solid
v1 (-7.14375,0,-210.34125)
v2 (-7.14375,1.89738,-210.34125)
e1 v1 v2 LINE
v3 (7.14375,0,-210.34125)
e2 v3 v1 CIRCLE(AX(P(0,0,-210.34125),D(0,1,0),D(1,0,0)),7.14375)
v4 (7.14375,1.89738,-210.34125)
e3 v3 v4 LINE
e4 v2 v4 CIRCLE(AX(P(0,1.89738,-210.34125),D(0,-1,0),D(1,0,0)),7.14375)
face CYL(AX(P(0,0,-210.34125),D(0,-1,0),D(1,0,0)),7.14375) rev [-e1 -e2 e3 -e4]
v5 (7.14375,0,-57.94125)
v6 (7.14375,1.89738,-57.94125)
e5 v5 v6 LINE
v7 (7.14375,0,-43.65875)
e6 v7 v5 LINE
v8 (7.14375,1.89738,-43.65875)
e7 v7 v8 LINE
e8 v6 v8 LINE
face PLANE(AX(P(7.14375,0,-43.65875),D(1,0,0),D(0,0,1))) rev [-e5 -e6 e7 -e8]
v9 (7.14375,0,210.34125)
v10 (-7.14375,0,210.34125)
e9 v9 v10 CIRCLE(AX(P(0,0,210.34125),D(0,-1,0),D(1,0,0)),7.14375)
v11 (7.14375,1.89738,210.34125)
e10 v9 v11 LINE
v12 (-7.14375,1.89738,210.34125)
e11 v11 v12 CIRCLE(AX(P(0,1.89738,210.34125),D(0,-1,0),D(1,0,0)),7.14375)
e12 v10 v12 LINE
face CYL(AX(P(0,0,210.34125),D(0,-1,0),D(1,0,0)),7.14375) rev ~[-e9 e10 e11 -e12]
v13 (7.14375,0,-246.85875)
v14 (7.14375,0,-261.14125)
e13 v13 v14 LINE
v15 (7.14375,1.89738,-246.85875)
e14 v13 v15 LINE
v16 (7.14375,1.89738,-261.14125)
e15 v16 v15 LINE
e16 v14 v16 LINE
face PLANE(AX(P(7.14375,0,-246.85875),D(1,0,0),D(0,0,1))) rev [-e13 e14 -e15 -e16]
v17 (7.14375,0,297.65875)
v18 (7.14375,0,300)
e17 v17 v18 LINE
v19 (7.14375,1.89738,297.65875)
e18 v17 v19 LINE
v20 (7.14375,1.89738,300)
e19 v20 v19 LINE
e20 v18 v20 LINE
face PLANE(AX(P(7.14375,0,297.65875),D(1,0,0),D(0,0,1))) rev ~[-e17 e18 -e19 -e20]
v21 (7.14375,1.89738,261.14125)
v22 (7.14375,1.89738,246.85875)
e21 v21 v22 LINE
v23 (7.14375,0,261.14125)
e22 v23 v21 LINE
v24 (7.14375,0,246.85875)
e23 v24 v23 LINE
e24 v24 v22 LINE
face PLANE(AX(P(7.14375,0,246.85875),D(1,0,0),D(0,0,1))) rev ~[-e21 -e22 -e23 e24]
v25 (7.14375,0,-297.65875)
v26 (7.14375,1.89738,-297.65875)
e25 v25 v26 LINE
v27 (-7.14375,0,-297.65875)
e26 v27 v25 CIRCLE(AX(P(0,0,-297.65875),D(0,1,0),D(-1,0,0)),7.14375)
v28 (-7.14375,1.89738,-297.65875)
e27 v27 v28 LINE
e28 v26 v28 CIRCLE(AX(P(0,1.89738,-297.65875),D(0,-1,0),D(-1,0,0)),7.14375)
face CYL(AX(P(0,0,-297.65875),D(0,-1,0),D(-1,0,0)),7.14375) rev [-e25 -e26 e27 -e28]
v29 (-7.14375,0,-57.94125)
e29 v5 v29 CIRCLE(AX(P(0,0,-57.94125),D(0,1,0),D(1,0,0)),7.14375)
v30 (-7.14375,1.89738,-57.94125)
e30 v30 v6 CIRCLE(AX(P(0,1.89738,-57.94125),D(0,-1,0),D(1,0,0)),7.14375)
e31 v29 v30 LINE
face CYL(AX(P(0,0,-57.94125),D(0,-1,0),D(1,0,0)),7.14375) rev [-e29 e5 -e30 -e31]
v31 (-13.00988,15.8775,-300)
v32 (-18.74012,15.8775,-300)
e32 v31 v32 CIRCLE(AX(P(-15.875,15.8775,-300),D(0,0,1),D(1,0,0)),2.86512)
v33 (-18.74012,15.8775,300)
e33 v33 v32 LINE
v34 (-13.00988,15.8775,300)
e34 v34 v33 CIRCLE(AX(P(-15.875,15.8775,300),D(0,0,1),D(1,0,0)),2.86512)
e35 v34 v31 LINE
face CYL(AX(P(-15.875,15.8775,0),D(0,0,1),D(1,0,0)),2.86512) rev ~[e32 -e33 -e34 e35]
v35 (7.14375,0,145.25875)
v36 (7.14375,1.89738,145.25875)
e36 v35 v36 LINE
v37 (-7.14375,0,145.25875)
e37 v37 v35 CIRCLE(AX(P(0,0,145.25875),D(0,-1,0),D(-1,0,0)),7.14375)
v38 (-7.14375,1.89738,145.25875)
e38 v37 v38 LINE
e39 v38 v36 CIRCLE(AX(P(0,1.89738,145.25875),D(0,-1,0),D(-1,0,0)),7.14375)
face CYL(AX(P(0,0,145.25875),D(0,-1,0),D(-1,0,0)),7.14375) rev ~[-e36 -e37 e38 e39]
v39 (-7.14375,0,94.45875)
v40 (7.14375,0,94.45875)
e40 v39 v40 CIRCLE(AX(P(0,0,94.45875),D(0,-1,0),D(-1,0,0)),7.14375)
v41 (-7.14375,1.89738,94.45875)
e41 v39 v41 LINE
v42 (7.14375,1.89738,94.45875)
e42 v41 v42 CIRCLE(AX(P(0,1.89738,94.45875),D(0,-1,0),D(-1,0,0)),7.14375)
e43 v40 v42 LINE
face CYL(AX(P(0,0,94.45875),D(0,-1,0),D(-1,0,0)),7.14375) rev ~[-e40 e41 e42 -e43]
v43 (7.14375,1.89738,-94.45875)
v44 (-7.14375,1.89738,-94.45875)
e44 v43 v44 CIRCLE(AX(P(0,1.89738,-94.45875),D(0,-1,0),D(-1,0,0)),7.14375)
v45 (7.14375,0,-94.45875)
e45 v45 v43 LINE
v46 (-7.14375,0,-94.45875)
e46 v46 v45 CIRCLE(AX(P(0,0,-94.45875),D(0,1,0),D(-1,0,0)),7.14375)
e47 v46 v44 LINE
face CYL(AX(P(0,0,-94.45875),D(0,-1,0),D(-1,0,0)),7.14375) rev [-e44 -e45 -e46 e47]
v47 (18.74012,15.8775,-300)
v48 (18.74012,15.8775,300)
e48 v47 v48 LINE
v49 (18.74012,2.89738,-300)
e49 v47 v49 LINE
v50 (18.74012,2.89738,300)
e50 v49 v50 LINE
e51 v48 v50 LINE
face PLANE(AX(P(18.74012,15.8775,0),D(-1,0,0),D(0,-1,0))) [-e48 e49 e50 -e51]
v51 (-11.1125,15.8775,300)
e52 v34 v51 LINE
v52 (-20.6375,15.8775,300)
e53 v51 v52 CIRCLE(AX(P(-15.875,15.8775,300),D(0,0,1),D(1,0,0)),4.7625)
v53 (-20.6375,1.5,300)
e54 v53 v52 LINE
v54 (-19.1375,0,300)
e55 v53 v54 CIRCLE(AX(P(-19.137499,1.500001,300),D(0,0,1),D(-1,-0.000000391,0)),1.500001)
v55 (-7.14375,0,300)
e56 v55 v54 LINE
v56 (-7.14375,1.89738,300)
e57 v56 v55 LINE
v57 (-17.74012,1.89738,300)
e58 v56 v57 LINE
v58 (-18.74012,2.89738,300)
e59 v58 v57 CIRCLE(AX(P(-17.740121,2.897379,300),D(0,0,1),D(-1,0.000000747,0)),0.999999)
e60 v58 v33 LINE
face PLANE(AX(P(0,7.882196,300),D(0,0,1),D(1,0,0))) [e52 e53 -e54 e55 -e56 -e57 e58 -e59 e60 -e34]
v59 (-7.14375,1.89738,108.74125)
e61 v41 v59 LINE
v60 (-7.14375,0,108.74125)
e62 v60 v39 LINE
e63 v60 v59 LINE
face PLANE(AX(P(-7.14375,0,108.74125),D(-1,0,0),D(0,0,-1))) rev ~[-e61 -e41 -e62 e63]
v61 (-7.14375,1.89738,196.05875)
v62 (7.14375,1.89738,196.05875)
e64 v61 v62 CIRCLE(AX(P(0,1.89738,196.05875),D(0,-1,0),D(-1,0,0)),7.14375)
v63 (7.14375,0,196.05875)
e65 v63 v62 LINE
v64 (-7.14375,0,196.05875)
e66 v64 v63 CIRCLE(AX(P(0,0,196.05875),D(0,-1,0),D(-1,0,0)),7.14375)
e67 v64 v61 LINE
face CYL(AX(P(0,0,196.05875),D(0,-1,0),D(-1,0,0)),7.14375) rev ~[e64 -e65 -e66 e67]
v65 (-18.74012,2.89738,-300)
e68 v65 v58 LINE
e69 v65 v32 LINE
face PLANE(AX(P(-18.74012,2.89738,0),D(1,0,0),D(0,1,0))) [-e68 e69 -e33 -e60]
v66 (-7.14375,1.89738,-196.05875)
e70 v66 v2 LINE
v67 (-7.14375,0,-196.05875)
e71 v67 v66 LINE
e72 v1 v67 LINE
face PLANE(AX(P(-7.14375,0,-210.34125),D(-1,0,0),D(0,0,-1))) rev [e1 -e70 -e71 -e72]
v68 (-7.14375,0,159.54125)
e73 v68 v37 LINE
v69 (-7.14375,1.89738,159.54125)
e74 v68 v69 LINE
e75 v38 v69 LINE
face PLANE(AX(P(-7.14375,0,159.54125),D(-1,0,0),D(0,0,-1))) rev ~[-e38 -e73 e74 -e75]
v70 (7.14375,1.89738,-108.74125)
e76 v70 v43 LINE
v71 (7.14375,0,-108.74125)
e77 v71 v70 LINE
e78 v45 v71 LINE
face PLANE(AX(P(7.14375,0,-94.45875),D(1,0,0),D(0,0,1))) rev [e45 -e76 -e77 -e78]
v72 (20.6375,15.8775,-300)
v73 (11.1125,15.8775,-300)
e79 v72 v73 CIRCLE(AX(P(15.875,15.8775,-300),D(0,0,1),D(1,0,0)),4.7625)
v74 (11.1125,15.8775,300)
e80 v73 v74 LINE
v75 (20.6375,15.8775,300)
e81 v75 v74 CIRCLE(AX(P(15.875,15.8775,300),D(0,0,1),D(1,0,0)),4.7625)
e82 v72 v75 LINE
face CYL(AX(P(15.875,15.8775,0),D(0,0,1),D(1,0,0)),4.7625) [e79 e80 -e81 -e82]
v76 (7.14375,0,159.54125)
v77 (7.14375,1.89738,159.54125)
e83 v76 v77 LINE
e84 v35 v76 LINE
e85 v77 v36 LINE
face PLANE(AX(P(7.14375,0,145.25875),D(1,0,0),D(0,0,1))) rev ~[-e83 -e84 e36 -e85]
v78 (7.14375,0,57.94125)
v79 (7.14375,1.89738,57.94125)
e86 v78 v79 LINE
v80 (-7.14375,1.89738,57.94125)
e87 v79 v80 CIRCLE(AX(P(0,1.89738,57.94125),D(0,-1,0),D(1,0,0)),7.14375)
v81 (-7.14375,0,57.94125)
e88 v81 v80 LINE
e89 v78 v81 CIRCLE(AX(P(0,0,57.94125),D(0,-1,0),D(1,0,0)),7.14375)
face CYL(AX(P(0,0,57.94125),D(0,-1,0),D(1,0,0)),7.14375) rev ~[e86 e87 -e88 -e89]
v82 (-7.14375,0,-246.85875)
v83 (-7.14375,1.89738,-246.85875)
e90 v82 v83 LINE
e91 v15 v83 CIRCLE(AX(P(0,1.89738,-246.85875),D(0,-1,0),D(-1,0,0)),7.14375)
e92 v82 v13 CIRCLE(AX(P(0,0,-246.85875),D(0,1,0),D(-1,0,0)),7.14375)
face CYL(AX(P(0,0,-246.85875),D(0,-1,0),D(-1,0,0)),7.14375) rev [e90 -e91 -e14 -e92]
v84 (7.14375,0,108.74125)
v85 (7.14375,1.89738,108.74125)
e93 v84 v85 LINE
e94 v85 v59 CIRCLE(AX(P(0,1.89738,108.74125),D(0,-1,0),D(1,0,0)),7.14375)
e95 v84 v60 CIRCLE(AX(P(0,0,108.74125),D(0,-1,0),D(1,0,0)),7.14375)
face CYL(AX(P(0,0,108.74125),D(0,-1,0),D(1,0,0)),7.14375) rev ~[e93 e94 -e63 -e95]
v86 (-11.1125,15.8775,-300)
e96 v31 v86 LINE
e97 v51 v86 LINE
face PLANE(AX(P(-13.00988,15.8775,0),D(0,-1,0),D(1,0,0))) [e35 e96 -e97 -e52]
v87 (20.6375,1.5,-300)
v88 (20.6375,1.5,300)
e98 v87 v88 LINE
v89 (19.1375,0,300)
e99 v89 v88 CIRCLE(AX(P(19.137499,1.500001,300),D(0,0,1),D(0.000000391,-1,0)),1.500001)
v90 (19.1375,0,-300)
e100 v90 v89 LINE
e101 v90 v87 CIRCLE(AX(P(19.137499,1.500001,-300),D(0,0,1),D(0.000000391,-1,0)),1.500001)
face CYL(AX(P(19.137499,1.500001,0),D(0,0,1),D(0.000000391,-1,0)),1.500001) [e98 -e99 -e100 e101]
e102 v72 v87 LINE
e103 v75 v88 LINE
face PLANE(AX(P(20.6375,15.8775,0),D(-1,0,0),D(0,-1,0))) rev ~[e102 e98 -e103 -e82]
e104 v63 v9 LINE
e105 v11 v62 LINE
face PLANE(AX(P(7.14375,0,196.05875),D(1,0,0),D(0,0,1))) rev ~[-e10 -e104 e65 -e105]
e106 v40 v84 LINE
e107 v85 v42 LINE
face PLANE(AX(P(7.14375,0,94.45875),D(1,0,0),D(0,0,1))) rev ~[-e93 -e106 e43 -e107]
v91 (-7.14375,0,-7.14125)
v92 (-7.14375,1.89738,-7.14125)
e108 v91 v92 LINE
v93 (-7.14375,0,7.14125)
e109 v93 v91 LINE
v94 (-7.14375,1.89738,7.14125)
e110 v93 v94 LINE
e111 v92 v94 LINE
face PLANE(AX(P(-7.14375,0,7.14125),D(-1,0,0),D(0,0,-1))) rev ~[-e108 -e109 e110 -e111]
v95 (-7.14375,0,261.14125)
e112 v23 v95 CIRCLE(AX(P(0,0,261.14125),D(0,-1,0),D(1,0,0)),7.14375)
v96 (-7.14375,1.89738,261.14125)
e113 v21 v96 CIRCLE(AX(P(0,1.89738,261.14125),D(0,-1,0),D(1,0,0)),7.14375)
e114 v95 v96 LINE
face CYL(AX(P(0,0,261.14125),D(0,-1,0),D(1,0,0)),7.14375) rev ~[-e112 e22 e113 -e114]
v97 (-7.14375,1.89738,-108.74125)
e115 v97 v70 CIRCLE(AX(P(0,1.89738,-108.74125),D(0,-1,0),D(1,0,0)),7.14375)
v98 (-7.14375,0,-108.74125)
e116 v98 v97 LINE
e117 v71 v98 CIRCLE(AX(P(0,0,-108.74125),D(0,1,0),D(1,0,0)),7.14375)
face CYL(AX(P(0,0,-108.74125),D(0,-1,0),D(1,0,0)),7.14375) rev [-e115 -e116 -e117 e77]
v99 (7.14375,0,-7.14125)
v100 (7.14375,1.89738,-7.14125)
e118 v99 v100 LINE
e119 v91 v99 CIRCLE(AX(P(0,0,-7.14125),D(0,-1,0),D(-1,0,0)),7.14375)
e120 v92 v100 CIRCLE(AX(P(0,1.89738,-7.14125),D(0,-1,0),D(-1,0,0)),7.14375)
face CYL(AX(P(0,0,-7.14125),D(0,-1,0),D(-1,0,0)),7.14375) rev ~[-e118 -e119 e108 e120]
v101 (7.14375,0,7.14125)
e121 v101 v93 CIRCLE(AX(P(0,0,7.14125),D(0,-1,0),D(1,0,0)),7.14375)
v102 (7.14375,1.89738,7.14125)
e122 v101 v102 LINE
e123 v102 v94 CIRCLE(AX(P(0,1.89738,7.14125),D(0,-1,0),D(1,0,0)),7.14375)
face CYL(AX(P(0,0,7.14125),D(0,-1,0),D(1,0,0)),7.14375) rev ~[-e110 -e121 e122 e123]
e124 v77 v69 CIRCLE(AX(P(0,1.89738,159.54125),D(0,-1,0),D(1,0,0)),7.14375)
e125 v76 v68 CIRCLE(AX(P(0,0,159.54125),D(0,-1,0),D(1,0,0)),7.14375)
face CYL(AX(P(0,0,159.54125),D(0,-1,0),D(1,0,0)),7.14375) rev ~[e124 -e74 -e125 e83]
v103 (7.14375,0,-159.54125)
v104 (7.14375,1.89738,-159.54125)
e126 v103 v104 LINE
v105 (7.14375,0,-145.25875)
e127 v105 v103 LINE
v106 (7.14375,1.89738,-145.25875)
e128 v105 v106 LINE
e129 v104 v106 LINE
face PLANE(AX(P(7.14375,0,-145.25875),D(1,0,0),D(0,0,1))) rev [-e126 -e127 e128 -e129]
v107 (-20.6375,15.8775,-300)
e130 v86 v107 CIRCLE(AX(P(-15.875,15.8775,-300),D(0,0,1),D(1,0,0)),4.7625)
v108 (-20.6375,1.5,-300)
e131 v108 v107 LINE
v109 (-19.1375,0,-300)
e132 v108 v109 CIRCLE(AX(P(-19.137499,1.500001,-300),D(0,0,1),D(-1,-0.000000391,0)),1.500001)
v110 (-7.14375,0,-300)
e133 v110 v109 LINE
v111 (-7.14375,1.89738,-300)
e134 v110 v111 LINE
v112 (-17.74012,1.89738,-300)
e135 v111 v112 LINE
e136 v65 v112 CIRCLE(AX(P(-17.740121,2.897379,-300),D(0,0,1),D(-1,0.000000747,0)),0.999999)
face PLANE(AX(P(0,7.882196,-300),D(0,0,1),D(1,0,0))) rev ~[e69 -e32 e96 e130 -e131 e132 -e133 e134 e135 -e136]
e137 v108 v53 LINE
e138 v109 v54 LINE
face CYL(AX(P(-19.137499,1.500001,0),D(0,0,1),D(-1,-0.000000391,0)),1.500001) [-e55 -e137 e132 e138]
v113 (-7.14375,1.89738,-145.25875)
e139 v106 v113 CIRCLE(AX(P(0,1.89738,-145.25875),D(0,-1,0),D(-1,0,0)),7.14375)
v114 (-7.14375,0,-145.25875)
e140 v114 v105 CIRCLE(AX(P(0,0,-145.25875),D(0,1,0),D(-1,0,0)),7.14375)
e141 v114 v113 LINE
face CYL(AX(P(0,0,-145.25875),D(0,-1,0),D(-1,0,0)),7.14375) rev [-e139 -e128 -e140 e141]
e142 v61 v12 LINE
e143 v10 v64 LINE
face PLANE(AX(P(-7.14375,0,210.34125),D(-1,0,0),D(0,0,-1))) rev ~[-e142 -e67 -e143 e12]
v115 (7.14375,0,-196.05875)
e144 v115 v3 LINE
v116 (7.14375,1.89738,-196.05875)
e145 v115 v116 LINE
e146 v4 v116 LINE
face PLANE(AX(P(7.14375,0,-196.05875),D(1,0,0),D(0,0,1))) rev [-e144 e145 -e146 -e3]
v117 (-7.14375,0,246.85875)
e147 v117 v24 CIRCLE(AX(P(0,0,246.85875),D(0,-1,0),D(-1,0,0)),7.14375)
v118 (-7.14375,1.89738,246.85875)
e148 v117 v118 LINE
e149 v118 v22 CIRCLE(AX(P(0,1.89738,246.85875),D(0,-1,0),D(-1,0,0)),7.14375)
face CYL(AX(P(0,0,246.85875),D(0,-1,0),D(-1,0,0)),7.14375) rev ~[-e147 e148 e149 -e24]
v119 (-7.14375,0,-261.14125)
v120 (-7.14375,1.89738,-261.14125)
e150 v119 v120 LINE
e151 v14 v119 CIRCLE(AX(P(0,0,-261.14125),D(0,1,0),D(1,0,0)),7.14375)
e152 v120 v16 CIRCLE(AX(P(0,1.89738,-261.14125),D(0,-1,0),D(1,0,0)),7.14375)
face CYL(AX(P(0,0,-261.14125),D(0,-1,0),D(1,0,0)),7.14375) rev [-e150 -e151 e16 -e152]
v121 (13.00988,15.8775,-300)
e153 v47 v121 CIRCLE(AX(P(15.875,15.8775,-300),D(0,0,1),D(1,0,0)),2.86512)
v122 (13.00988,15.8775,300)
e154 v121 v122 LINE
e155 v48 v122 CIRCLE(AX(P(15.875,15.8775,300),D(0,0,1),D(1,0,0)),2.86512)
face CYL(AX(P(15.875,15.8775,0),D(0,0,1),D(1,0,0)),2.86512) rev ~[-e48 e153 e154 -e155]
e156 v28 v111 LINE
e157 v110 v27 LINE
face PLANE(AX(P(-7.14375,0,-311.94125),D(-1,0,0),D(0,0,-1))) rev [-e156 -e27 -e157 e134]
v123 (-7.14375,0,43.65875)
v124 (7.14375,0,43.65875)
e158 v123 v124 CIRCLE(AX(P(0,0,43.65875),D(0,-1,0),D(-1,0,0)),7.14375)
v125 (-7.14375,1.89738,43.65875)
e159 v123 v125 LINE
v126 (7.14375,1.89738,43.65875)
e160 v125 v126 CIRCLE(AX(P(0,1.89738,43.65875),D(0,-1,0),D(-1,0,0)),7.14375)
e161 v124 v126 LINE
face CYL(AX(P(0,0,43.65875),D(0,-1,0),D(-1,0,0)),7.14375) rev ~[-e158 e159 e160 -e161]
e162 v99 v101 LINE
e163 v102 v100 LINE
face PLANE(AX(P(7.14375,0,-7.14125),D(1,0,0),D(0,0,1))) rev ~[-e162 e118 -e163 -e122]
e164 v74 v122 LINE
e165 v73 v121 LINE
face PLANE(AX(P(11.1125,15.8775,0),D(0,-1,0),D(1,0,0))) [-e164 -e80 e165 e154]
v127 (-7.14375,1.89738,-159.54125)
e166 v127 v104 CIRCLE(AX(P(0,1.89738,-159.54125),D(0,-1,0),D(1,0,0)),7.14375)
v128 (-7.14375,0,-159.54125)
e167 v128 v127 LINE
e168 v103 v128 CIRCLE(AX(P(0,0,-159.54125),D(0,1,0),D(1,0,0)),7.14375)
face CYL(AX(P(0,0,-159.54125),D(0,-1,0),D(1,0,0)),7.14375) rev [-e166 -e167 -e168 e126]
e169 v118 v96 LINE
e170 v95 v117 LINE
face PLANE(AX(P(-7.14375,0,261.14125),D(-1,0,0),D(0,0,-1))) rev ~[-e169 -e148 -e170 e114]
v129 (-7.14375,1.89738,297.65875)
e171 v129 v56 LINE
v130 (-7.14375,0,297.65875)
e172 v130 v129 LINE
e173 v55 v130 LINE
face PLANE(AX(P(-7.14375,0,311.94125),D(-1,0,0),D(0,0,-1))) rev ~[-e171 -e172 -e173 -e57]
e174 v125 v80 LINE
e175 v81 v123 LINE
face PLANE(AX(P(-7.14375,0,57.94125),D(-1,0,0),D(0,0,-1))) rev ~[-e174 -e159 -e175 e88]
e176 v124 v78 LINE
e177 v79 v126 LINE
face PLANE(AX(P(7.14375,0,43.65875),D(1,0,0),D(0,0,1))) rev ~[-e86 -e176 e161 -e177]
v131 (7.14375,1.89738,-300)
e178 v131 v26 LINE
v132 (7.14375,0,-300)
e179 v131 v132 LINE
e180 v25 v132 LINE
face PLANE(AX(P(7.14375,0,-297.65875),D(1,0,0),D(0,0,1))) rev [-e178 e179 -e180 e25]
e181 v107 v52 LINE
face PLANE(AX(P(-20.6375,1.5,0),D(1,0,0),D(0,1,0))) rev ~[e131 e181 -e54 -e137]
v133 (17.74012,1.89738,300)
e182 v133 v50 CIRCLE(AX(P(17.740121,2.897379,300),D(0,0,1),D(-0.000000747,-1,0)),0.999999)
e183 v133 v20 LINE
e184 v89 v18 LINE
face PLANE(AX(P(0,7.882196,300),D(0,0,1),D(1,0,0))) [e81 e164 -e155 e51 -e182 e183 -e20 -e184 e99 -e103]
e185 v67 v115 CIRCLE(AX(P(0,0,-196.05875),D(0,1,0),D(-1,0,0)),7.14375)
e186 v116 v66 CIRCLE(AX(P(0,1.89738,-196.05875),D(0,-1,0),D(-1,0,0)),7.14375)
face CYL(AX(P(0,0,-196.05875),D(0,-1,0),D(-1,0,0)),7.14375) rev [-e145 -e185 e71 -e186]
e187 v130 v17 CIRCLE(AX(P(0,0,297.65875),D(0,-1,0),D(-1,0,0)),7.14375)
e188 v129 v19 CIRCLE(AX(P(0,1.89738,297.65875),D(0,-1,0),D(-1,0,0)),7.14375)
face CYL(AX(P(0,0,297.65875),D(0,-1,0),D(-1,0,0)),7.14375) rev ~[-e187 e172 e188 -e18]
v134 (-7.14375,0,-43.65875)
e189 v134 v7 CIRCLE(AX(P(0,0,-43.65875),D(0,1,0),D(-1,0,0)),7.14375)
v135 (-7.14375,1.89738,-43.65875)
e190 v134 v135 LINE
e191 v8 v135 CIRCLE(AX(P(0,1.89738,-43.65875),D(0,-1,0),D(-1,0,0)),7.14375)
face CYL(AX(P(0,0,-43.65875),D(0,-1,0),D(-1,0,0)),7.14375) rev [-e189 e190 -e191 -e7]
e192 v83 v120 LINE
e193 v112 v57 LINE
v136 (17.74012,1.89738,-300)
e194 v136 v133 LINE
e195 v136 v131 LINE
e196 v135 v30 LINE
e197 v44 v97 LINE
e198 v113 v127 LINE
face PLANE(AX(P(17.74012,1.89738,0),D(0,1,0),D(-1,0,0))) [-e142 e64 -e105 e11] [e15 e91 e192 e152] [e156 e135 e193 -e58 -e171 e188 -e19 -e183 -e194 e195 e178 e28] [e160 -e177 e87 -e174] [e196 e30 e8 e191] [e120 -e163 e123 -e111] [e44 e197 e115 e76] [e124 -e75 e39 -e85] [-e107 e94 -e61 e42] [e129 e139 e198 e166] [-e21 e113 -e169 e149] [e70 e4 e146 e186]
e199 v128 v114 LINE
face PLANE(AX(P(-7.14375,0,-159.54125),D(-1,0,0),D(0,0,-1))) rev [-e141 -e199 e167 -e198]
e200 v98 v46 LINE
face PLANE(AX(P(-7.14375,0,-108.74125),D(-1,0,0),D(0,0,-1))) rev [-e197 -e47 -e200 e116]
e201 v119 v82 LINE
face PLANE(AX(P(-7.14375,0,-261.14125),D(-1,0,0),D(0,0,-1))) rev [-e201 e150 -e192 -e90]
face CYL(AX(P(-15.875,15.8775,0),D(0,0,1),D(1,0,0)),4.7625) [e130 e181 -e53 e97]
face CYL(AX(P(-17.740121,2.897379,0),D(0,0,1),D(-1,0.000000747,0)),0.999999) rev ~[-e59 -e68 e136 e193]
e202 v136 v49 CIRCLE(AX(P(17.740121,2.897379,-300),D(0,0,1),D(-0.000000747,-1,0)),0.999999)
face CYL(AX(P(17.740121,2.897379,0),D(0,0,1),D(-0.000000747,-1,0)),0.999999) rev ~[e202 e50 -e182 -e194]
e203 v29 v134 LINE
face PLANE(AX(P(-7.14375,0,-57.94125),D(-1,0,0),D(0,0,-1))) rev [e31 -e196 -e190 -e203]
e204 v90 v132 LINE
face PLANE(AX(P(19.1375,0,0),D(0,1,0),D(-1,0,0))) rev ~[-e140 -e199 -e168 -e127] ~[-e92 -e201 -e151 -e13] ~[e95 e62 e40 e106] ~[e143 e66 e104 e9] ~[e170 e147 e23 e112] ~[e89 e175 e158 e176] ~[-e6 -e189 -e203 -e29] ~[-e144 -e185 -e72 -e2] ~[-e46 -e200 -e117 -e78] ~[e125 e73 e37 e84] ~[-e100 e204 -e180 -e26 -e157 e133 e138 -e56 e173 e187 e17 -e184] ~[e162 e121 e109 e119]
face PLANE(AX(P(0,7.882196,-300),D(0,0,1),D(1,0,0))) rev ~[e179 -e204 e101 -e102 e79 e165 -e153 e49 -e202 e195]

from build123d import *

# Parameters (mm, degrees)
PAD_DEPTH                    = 300
POCKET_DEPTH                 = 3
POCKET_LINEARPATTERN_2_DEPTH = 3
POCKET_LINEARPATTERN_3_DEPTH = 3
POCKET_LINEARPATTERN_4_DEPTH = 3
POCKET_LINEARPATTERN_5_DEPTH = 3
POCKET_LINEARPATTERN_6_DEPTH = 3
POCKET_LINEARPATTERN_7_DEPTH = 3
POCKET_LINEARPATTERN_8_DEPTH = 3


with BuildPart() as part:
    # Sketch → Pad (new body, symmetric)
    with BuildSketch(Plane.XY):
        with BuildLine():
            ThreePointArc((-11.1125, 15.8775), (-15.875, 20.64), (-20.6375, 15.8775))
            Line((-20.6375, 1.5), (-20.6375, 15.8775))
            ThreePointArc((-20.6375, 1.5), (-20.19816, 0.43934), (-19.1375, 0))
            Line((19.1375, 0), (-19.1375, 0))
            ThreePointArc((19.1375, 0), (20.19816, 0.43934), (20.6375, 1.5))
            Line((20.6375, 15.8775), (20.6375, 1.5))
            ThreePointArc((20.6375, 15.8775), (15.875, 20.64), (11.1125, 15.8775))
            Line((11.1125, 15.8775), (13.00988, 15.8775))
            ThreePointArc((18.74012, 15.8775), (15.875, 18.74262), (13.00988, 15.8775))
            Line((18.74012, 15.8775), (18.74012, 2.89738))
            ThreePointArc((17.74012, 1.89738), (18.447227, 2.190273), (18.74012, 2.89738))
            Line((17.74012, 1.89738), (-17.74012, 1.89738))
            ThreePointArc((-18.74012, 2.89738), (-18.447227, 2.190273), (-17.74012, 1.89738))
            Line((-18.74012, 2.89738), (-18.74012, 15.8775))
            ThreePointArc((-13.00988, 15.8775), (-15.875, 18.74262), (-18.74012, 15.8775))
            Line((-13.00988, 15.8775), (-11.1125, 15.8775))
        make_face()
    extrude(amount=PAD_DEPTH, both=True)

    # Sketch001 → Pocket (cut)
    with BuildSketch(Plane.XZ):
        with BuildLine():
            ThreePointArc((7.14375, 7.14125), (0, 14.285), (-7.14375, 7.14125))
            Line((-7.14375, 7.14125), (-7.14375, -7.14125))
            ThreePointArc((-7.14375, -7.14125), (0, -14.285), (7.14375, -7.14125))
            Line((7.14375, -7.14125), (7.14375, 7.14125))
        make_face()
    pocket = extrude(amount=-POCKET_DEPTH, mode=Mode.SUBTRACT)

    # Sketch001 LinearPattern 2 → Pocket LinearPattern 2 (cut)
    with BuildSketch(Plane(origin=(0, 0, 50.8), x_dir=(1, 0, 0), z_dir=(0, -1, 0))):
        with BuildLine():
            ThreePointArc((7.14375, 7.14125), (0, 14.285), (-7.14375, 7.14125))
            Line((-7.14375, 7.14125), (-7.14375, -7.14125))
            ThreePointArc((-7.14375, -7.14125), (0, -14.285), (7.14375, -7.14125))
            Line((7.14375, -7.14125), (7.14375, 7.14125))
        make_face()
    pocket_linearpattern_2 = extrude(amount=-POCKET_LINEARPATTERN_2_DEPTH, mode=Mode.SUBTRACT)

    # Sketch001 LinearPattern 3 → Pocket LinearPattern 3 (cut)
    with BuildSketch(Plane(origin=(0, 0, 101.6), x_dir=(1, 0, 0), z_dir=(0, -1, 0))):
        with BuildLine():
            ThreePointArc((7.14375, 7.14125), (0, 14.285), (-7.14375, 7.14125))
            Line((-7.14375, 7.14125), (-7.14375, -7.14125))
            ThreePointArc((-7.14375, -7.14125), (0, -14.285), (7.14375, -7.14125))
            Line((7.14375, -7.14125), (7.14375, 7.14125))
        make_face()
    pocket_linearpattern_3 = extrude(amount=-POCKET_LINEARPATTERN_3_DEPTH, mode=Mode.SUBTRACT)

    # Sketch001 LinearPattern 4 → Pocket LinearPattern 4 (cut)
    with BuildSketch(Plane(origin=(0, 0, 152.4), x_dir=(1, 0, 0), z_dir=(0, -1, 0))):
        with BuildLine():
            ThreePointArc((7.14375, 7.14125), (0, 14.285), (-7.14375, 7.14125))
            Line((-7.14375, 7.14125), (-7.14375, -7.14125))
            ThreePointArc((-7.14375, -7.14125), (0, -14.285), (7.14375, -7.14125))
            Line((7.14375, -7.14125), (7.14375, 7.14125))
        make_face()
    pocket_linearpattern_4 = extrude(amount=-POCKET_LINEARPATTERN_4_DEPTH, mode=Mode.SUBTRACT)

    # Sketch001 LinearPattern 5 → Pocket LinearPattern 5 (cut)
    with BuildSketch(Plane(origin=(0, 0, 203.2), x_dir=(1, 0, 0), z_dir=(0, -1, 0))):
        with BuildLine():
            ThreePointArc((7.14375, 7.14125), (0, 14.285), (-7.14375, 7.14125))
            Line((-7.14375, 7.14125), (-7.14375, -7.14125))
            ThreePointArc((-7.14375, -7.14125), (0, -14.285), (7.14375, -7.14125))
            Line((7.14375, -7.14125), (7.14375, 7.14125))
        make_face()
    pocket_linearpattern_5 = extrude(amount=-POCKET_LINEARPATTERN_5_DEPTH, mode=Mode.SUBTRACT)

    # Sketch001 LinearPattern 6 → Pocket LinearPattern 6 (cut)
    with BuildSketch(Plane(origin=(0, 0, 254), x_dir=(1, 0, 0), z_dir=(0, -1, 0))):
        with BuildLine():
            ThreePointArc((7.14375, 7.14125), (0, 14.285), (-7.14375, 7.14125))
            Line((-7.14375, 7.14125), (-7.14375, -7.14125))
            ThreePointArc((-7.14375, -7.14125), (0, -14.285), (7.14375, -7.14125))
            Line((7.14375, -7.14125), (7.14375, 7.14125))
        make_face()
    pocket_linearpattern_6 = extrude(amount=-POCKET_LINEARPATTERN_6_DEPTH, mode=Mode.SUBTRACT)

    # Sketch001 LinearPattern 7 → Pocket LinearPattern 7 (cut)
    with BuildSketch(Plane(origin=(0, 0, 304.8), x_dir=(1, 0, 0), z_dir=(0, -1, 0))):
        with BuildLine():
            ThreePointArc((7.14375, 7.14125), (0, 14.285), (-7.14375, 7.14125))
            Line((-7.14375, 7.14125), (-7.14375, -7.14125))
            ThreePointArc((-7.14375, -7.14125), (0, -14.285), (7.14375, -7.14125))
            Line((7.14375, -7.14125), (7.14375, 7.14125))
        make_face()
    pocket_linearpattern_7 = extrude(amount=-POCKET_LINEARPATTERN_7_DEPTH, mode=Mode.SUBTRACT)

    # Sketch001 LinearPattern 8 → Pocket LinearPattern 8 (cut)
    with BuildSketch(Plane(origin=(0, 0, 355.6), x_dir=(1, 0, 0), z_dir=(0, -1, 0))):
        with BuildLine():
            ThreePointArc((7.14375, 7.14125), (0, 14.285), (-7.14375, 7.14125))
            Line((-7.14375, 7.14125), (-7.14375, -7.14125))
            ThreePointArc((-7.14375, -7.14125), (0, -14.285), (7.14375, -7.14125))
            Line((7.14375, -7.14125), (7.14375, 7.14125))
        make_face()
    pocket_linearpattern_8 = extrude(amount=-POCKET_LINEARPATTERN_8_DEPTH, mode=Mode.SUBTRACT)

    # Mirrored: Pocket, Pocket LinearPattern 2, Pocket LinearPattern 3, Pocket LinearPattern 4, Pocket LinearPattern 5, Pocket LinearPattern 6, Pocket LinearPattern 7, Pocket LinearPattern 8 across Sketch001 H_Axis
    add(pocket.mirror(Plane(origin=(0, 0, 0), x_dir=(0, -1, 0), z_dir=(0, 0, 1))), mode=Mode.SUBTRACT)
    add(pocket_linearpattern_2.mirror(Plane(origin=(0, 0, 0), x_dir=(0, -1, 0), z_dir=(0, 0, 1))), mode=Mode.SUBTRACT)
    add(pocket_linearpattern_3.mirror(Plane(origin=(0, 0, 0), x_dir=(0, -1, 0), z_dir=(0, 0, 1))), mode=Mode.SUBTRACT)
    add(pocket_linearpattern_4.mirror(Plane(origin=(0, 0, 0), x_dir=(0, -1, 0), z_dir=(0, 0, 1))), mode=Mode.SUBTRACT)
    add(pocket_linearpattern_5.mirror(Plane(origin=(0, 0, 0), x_dir=(0, -1, 0), z_dir=(0, 0, 1))), mode=Mode.SUBTRACT)
    add(pocket_linearpattern_6.mirror(Plane(origin=(0, 0, 0), x_dir=(0, -1, 0), z_dir=(0, 0, 1))), mode=Mode.SUBTRACT)
    add(pocket_linearpattern_7.mirror(Plane(origin=(0, 0, 0), x_dir=(0, -1, 0), z_dir=(0, 0, 1))), mode=Mode.SUBTRACT)
    add(pocket_linearpattern_8.mirror(Plane(origin=(0, 0, 0), x_dir=(0, -1, 0), z_dir=(0, 0, 1))), mode=Mode.SUBTRACT)


solid = part.part
